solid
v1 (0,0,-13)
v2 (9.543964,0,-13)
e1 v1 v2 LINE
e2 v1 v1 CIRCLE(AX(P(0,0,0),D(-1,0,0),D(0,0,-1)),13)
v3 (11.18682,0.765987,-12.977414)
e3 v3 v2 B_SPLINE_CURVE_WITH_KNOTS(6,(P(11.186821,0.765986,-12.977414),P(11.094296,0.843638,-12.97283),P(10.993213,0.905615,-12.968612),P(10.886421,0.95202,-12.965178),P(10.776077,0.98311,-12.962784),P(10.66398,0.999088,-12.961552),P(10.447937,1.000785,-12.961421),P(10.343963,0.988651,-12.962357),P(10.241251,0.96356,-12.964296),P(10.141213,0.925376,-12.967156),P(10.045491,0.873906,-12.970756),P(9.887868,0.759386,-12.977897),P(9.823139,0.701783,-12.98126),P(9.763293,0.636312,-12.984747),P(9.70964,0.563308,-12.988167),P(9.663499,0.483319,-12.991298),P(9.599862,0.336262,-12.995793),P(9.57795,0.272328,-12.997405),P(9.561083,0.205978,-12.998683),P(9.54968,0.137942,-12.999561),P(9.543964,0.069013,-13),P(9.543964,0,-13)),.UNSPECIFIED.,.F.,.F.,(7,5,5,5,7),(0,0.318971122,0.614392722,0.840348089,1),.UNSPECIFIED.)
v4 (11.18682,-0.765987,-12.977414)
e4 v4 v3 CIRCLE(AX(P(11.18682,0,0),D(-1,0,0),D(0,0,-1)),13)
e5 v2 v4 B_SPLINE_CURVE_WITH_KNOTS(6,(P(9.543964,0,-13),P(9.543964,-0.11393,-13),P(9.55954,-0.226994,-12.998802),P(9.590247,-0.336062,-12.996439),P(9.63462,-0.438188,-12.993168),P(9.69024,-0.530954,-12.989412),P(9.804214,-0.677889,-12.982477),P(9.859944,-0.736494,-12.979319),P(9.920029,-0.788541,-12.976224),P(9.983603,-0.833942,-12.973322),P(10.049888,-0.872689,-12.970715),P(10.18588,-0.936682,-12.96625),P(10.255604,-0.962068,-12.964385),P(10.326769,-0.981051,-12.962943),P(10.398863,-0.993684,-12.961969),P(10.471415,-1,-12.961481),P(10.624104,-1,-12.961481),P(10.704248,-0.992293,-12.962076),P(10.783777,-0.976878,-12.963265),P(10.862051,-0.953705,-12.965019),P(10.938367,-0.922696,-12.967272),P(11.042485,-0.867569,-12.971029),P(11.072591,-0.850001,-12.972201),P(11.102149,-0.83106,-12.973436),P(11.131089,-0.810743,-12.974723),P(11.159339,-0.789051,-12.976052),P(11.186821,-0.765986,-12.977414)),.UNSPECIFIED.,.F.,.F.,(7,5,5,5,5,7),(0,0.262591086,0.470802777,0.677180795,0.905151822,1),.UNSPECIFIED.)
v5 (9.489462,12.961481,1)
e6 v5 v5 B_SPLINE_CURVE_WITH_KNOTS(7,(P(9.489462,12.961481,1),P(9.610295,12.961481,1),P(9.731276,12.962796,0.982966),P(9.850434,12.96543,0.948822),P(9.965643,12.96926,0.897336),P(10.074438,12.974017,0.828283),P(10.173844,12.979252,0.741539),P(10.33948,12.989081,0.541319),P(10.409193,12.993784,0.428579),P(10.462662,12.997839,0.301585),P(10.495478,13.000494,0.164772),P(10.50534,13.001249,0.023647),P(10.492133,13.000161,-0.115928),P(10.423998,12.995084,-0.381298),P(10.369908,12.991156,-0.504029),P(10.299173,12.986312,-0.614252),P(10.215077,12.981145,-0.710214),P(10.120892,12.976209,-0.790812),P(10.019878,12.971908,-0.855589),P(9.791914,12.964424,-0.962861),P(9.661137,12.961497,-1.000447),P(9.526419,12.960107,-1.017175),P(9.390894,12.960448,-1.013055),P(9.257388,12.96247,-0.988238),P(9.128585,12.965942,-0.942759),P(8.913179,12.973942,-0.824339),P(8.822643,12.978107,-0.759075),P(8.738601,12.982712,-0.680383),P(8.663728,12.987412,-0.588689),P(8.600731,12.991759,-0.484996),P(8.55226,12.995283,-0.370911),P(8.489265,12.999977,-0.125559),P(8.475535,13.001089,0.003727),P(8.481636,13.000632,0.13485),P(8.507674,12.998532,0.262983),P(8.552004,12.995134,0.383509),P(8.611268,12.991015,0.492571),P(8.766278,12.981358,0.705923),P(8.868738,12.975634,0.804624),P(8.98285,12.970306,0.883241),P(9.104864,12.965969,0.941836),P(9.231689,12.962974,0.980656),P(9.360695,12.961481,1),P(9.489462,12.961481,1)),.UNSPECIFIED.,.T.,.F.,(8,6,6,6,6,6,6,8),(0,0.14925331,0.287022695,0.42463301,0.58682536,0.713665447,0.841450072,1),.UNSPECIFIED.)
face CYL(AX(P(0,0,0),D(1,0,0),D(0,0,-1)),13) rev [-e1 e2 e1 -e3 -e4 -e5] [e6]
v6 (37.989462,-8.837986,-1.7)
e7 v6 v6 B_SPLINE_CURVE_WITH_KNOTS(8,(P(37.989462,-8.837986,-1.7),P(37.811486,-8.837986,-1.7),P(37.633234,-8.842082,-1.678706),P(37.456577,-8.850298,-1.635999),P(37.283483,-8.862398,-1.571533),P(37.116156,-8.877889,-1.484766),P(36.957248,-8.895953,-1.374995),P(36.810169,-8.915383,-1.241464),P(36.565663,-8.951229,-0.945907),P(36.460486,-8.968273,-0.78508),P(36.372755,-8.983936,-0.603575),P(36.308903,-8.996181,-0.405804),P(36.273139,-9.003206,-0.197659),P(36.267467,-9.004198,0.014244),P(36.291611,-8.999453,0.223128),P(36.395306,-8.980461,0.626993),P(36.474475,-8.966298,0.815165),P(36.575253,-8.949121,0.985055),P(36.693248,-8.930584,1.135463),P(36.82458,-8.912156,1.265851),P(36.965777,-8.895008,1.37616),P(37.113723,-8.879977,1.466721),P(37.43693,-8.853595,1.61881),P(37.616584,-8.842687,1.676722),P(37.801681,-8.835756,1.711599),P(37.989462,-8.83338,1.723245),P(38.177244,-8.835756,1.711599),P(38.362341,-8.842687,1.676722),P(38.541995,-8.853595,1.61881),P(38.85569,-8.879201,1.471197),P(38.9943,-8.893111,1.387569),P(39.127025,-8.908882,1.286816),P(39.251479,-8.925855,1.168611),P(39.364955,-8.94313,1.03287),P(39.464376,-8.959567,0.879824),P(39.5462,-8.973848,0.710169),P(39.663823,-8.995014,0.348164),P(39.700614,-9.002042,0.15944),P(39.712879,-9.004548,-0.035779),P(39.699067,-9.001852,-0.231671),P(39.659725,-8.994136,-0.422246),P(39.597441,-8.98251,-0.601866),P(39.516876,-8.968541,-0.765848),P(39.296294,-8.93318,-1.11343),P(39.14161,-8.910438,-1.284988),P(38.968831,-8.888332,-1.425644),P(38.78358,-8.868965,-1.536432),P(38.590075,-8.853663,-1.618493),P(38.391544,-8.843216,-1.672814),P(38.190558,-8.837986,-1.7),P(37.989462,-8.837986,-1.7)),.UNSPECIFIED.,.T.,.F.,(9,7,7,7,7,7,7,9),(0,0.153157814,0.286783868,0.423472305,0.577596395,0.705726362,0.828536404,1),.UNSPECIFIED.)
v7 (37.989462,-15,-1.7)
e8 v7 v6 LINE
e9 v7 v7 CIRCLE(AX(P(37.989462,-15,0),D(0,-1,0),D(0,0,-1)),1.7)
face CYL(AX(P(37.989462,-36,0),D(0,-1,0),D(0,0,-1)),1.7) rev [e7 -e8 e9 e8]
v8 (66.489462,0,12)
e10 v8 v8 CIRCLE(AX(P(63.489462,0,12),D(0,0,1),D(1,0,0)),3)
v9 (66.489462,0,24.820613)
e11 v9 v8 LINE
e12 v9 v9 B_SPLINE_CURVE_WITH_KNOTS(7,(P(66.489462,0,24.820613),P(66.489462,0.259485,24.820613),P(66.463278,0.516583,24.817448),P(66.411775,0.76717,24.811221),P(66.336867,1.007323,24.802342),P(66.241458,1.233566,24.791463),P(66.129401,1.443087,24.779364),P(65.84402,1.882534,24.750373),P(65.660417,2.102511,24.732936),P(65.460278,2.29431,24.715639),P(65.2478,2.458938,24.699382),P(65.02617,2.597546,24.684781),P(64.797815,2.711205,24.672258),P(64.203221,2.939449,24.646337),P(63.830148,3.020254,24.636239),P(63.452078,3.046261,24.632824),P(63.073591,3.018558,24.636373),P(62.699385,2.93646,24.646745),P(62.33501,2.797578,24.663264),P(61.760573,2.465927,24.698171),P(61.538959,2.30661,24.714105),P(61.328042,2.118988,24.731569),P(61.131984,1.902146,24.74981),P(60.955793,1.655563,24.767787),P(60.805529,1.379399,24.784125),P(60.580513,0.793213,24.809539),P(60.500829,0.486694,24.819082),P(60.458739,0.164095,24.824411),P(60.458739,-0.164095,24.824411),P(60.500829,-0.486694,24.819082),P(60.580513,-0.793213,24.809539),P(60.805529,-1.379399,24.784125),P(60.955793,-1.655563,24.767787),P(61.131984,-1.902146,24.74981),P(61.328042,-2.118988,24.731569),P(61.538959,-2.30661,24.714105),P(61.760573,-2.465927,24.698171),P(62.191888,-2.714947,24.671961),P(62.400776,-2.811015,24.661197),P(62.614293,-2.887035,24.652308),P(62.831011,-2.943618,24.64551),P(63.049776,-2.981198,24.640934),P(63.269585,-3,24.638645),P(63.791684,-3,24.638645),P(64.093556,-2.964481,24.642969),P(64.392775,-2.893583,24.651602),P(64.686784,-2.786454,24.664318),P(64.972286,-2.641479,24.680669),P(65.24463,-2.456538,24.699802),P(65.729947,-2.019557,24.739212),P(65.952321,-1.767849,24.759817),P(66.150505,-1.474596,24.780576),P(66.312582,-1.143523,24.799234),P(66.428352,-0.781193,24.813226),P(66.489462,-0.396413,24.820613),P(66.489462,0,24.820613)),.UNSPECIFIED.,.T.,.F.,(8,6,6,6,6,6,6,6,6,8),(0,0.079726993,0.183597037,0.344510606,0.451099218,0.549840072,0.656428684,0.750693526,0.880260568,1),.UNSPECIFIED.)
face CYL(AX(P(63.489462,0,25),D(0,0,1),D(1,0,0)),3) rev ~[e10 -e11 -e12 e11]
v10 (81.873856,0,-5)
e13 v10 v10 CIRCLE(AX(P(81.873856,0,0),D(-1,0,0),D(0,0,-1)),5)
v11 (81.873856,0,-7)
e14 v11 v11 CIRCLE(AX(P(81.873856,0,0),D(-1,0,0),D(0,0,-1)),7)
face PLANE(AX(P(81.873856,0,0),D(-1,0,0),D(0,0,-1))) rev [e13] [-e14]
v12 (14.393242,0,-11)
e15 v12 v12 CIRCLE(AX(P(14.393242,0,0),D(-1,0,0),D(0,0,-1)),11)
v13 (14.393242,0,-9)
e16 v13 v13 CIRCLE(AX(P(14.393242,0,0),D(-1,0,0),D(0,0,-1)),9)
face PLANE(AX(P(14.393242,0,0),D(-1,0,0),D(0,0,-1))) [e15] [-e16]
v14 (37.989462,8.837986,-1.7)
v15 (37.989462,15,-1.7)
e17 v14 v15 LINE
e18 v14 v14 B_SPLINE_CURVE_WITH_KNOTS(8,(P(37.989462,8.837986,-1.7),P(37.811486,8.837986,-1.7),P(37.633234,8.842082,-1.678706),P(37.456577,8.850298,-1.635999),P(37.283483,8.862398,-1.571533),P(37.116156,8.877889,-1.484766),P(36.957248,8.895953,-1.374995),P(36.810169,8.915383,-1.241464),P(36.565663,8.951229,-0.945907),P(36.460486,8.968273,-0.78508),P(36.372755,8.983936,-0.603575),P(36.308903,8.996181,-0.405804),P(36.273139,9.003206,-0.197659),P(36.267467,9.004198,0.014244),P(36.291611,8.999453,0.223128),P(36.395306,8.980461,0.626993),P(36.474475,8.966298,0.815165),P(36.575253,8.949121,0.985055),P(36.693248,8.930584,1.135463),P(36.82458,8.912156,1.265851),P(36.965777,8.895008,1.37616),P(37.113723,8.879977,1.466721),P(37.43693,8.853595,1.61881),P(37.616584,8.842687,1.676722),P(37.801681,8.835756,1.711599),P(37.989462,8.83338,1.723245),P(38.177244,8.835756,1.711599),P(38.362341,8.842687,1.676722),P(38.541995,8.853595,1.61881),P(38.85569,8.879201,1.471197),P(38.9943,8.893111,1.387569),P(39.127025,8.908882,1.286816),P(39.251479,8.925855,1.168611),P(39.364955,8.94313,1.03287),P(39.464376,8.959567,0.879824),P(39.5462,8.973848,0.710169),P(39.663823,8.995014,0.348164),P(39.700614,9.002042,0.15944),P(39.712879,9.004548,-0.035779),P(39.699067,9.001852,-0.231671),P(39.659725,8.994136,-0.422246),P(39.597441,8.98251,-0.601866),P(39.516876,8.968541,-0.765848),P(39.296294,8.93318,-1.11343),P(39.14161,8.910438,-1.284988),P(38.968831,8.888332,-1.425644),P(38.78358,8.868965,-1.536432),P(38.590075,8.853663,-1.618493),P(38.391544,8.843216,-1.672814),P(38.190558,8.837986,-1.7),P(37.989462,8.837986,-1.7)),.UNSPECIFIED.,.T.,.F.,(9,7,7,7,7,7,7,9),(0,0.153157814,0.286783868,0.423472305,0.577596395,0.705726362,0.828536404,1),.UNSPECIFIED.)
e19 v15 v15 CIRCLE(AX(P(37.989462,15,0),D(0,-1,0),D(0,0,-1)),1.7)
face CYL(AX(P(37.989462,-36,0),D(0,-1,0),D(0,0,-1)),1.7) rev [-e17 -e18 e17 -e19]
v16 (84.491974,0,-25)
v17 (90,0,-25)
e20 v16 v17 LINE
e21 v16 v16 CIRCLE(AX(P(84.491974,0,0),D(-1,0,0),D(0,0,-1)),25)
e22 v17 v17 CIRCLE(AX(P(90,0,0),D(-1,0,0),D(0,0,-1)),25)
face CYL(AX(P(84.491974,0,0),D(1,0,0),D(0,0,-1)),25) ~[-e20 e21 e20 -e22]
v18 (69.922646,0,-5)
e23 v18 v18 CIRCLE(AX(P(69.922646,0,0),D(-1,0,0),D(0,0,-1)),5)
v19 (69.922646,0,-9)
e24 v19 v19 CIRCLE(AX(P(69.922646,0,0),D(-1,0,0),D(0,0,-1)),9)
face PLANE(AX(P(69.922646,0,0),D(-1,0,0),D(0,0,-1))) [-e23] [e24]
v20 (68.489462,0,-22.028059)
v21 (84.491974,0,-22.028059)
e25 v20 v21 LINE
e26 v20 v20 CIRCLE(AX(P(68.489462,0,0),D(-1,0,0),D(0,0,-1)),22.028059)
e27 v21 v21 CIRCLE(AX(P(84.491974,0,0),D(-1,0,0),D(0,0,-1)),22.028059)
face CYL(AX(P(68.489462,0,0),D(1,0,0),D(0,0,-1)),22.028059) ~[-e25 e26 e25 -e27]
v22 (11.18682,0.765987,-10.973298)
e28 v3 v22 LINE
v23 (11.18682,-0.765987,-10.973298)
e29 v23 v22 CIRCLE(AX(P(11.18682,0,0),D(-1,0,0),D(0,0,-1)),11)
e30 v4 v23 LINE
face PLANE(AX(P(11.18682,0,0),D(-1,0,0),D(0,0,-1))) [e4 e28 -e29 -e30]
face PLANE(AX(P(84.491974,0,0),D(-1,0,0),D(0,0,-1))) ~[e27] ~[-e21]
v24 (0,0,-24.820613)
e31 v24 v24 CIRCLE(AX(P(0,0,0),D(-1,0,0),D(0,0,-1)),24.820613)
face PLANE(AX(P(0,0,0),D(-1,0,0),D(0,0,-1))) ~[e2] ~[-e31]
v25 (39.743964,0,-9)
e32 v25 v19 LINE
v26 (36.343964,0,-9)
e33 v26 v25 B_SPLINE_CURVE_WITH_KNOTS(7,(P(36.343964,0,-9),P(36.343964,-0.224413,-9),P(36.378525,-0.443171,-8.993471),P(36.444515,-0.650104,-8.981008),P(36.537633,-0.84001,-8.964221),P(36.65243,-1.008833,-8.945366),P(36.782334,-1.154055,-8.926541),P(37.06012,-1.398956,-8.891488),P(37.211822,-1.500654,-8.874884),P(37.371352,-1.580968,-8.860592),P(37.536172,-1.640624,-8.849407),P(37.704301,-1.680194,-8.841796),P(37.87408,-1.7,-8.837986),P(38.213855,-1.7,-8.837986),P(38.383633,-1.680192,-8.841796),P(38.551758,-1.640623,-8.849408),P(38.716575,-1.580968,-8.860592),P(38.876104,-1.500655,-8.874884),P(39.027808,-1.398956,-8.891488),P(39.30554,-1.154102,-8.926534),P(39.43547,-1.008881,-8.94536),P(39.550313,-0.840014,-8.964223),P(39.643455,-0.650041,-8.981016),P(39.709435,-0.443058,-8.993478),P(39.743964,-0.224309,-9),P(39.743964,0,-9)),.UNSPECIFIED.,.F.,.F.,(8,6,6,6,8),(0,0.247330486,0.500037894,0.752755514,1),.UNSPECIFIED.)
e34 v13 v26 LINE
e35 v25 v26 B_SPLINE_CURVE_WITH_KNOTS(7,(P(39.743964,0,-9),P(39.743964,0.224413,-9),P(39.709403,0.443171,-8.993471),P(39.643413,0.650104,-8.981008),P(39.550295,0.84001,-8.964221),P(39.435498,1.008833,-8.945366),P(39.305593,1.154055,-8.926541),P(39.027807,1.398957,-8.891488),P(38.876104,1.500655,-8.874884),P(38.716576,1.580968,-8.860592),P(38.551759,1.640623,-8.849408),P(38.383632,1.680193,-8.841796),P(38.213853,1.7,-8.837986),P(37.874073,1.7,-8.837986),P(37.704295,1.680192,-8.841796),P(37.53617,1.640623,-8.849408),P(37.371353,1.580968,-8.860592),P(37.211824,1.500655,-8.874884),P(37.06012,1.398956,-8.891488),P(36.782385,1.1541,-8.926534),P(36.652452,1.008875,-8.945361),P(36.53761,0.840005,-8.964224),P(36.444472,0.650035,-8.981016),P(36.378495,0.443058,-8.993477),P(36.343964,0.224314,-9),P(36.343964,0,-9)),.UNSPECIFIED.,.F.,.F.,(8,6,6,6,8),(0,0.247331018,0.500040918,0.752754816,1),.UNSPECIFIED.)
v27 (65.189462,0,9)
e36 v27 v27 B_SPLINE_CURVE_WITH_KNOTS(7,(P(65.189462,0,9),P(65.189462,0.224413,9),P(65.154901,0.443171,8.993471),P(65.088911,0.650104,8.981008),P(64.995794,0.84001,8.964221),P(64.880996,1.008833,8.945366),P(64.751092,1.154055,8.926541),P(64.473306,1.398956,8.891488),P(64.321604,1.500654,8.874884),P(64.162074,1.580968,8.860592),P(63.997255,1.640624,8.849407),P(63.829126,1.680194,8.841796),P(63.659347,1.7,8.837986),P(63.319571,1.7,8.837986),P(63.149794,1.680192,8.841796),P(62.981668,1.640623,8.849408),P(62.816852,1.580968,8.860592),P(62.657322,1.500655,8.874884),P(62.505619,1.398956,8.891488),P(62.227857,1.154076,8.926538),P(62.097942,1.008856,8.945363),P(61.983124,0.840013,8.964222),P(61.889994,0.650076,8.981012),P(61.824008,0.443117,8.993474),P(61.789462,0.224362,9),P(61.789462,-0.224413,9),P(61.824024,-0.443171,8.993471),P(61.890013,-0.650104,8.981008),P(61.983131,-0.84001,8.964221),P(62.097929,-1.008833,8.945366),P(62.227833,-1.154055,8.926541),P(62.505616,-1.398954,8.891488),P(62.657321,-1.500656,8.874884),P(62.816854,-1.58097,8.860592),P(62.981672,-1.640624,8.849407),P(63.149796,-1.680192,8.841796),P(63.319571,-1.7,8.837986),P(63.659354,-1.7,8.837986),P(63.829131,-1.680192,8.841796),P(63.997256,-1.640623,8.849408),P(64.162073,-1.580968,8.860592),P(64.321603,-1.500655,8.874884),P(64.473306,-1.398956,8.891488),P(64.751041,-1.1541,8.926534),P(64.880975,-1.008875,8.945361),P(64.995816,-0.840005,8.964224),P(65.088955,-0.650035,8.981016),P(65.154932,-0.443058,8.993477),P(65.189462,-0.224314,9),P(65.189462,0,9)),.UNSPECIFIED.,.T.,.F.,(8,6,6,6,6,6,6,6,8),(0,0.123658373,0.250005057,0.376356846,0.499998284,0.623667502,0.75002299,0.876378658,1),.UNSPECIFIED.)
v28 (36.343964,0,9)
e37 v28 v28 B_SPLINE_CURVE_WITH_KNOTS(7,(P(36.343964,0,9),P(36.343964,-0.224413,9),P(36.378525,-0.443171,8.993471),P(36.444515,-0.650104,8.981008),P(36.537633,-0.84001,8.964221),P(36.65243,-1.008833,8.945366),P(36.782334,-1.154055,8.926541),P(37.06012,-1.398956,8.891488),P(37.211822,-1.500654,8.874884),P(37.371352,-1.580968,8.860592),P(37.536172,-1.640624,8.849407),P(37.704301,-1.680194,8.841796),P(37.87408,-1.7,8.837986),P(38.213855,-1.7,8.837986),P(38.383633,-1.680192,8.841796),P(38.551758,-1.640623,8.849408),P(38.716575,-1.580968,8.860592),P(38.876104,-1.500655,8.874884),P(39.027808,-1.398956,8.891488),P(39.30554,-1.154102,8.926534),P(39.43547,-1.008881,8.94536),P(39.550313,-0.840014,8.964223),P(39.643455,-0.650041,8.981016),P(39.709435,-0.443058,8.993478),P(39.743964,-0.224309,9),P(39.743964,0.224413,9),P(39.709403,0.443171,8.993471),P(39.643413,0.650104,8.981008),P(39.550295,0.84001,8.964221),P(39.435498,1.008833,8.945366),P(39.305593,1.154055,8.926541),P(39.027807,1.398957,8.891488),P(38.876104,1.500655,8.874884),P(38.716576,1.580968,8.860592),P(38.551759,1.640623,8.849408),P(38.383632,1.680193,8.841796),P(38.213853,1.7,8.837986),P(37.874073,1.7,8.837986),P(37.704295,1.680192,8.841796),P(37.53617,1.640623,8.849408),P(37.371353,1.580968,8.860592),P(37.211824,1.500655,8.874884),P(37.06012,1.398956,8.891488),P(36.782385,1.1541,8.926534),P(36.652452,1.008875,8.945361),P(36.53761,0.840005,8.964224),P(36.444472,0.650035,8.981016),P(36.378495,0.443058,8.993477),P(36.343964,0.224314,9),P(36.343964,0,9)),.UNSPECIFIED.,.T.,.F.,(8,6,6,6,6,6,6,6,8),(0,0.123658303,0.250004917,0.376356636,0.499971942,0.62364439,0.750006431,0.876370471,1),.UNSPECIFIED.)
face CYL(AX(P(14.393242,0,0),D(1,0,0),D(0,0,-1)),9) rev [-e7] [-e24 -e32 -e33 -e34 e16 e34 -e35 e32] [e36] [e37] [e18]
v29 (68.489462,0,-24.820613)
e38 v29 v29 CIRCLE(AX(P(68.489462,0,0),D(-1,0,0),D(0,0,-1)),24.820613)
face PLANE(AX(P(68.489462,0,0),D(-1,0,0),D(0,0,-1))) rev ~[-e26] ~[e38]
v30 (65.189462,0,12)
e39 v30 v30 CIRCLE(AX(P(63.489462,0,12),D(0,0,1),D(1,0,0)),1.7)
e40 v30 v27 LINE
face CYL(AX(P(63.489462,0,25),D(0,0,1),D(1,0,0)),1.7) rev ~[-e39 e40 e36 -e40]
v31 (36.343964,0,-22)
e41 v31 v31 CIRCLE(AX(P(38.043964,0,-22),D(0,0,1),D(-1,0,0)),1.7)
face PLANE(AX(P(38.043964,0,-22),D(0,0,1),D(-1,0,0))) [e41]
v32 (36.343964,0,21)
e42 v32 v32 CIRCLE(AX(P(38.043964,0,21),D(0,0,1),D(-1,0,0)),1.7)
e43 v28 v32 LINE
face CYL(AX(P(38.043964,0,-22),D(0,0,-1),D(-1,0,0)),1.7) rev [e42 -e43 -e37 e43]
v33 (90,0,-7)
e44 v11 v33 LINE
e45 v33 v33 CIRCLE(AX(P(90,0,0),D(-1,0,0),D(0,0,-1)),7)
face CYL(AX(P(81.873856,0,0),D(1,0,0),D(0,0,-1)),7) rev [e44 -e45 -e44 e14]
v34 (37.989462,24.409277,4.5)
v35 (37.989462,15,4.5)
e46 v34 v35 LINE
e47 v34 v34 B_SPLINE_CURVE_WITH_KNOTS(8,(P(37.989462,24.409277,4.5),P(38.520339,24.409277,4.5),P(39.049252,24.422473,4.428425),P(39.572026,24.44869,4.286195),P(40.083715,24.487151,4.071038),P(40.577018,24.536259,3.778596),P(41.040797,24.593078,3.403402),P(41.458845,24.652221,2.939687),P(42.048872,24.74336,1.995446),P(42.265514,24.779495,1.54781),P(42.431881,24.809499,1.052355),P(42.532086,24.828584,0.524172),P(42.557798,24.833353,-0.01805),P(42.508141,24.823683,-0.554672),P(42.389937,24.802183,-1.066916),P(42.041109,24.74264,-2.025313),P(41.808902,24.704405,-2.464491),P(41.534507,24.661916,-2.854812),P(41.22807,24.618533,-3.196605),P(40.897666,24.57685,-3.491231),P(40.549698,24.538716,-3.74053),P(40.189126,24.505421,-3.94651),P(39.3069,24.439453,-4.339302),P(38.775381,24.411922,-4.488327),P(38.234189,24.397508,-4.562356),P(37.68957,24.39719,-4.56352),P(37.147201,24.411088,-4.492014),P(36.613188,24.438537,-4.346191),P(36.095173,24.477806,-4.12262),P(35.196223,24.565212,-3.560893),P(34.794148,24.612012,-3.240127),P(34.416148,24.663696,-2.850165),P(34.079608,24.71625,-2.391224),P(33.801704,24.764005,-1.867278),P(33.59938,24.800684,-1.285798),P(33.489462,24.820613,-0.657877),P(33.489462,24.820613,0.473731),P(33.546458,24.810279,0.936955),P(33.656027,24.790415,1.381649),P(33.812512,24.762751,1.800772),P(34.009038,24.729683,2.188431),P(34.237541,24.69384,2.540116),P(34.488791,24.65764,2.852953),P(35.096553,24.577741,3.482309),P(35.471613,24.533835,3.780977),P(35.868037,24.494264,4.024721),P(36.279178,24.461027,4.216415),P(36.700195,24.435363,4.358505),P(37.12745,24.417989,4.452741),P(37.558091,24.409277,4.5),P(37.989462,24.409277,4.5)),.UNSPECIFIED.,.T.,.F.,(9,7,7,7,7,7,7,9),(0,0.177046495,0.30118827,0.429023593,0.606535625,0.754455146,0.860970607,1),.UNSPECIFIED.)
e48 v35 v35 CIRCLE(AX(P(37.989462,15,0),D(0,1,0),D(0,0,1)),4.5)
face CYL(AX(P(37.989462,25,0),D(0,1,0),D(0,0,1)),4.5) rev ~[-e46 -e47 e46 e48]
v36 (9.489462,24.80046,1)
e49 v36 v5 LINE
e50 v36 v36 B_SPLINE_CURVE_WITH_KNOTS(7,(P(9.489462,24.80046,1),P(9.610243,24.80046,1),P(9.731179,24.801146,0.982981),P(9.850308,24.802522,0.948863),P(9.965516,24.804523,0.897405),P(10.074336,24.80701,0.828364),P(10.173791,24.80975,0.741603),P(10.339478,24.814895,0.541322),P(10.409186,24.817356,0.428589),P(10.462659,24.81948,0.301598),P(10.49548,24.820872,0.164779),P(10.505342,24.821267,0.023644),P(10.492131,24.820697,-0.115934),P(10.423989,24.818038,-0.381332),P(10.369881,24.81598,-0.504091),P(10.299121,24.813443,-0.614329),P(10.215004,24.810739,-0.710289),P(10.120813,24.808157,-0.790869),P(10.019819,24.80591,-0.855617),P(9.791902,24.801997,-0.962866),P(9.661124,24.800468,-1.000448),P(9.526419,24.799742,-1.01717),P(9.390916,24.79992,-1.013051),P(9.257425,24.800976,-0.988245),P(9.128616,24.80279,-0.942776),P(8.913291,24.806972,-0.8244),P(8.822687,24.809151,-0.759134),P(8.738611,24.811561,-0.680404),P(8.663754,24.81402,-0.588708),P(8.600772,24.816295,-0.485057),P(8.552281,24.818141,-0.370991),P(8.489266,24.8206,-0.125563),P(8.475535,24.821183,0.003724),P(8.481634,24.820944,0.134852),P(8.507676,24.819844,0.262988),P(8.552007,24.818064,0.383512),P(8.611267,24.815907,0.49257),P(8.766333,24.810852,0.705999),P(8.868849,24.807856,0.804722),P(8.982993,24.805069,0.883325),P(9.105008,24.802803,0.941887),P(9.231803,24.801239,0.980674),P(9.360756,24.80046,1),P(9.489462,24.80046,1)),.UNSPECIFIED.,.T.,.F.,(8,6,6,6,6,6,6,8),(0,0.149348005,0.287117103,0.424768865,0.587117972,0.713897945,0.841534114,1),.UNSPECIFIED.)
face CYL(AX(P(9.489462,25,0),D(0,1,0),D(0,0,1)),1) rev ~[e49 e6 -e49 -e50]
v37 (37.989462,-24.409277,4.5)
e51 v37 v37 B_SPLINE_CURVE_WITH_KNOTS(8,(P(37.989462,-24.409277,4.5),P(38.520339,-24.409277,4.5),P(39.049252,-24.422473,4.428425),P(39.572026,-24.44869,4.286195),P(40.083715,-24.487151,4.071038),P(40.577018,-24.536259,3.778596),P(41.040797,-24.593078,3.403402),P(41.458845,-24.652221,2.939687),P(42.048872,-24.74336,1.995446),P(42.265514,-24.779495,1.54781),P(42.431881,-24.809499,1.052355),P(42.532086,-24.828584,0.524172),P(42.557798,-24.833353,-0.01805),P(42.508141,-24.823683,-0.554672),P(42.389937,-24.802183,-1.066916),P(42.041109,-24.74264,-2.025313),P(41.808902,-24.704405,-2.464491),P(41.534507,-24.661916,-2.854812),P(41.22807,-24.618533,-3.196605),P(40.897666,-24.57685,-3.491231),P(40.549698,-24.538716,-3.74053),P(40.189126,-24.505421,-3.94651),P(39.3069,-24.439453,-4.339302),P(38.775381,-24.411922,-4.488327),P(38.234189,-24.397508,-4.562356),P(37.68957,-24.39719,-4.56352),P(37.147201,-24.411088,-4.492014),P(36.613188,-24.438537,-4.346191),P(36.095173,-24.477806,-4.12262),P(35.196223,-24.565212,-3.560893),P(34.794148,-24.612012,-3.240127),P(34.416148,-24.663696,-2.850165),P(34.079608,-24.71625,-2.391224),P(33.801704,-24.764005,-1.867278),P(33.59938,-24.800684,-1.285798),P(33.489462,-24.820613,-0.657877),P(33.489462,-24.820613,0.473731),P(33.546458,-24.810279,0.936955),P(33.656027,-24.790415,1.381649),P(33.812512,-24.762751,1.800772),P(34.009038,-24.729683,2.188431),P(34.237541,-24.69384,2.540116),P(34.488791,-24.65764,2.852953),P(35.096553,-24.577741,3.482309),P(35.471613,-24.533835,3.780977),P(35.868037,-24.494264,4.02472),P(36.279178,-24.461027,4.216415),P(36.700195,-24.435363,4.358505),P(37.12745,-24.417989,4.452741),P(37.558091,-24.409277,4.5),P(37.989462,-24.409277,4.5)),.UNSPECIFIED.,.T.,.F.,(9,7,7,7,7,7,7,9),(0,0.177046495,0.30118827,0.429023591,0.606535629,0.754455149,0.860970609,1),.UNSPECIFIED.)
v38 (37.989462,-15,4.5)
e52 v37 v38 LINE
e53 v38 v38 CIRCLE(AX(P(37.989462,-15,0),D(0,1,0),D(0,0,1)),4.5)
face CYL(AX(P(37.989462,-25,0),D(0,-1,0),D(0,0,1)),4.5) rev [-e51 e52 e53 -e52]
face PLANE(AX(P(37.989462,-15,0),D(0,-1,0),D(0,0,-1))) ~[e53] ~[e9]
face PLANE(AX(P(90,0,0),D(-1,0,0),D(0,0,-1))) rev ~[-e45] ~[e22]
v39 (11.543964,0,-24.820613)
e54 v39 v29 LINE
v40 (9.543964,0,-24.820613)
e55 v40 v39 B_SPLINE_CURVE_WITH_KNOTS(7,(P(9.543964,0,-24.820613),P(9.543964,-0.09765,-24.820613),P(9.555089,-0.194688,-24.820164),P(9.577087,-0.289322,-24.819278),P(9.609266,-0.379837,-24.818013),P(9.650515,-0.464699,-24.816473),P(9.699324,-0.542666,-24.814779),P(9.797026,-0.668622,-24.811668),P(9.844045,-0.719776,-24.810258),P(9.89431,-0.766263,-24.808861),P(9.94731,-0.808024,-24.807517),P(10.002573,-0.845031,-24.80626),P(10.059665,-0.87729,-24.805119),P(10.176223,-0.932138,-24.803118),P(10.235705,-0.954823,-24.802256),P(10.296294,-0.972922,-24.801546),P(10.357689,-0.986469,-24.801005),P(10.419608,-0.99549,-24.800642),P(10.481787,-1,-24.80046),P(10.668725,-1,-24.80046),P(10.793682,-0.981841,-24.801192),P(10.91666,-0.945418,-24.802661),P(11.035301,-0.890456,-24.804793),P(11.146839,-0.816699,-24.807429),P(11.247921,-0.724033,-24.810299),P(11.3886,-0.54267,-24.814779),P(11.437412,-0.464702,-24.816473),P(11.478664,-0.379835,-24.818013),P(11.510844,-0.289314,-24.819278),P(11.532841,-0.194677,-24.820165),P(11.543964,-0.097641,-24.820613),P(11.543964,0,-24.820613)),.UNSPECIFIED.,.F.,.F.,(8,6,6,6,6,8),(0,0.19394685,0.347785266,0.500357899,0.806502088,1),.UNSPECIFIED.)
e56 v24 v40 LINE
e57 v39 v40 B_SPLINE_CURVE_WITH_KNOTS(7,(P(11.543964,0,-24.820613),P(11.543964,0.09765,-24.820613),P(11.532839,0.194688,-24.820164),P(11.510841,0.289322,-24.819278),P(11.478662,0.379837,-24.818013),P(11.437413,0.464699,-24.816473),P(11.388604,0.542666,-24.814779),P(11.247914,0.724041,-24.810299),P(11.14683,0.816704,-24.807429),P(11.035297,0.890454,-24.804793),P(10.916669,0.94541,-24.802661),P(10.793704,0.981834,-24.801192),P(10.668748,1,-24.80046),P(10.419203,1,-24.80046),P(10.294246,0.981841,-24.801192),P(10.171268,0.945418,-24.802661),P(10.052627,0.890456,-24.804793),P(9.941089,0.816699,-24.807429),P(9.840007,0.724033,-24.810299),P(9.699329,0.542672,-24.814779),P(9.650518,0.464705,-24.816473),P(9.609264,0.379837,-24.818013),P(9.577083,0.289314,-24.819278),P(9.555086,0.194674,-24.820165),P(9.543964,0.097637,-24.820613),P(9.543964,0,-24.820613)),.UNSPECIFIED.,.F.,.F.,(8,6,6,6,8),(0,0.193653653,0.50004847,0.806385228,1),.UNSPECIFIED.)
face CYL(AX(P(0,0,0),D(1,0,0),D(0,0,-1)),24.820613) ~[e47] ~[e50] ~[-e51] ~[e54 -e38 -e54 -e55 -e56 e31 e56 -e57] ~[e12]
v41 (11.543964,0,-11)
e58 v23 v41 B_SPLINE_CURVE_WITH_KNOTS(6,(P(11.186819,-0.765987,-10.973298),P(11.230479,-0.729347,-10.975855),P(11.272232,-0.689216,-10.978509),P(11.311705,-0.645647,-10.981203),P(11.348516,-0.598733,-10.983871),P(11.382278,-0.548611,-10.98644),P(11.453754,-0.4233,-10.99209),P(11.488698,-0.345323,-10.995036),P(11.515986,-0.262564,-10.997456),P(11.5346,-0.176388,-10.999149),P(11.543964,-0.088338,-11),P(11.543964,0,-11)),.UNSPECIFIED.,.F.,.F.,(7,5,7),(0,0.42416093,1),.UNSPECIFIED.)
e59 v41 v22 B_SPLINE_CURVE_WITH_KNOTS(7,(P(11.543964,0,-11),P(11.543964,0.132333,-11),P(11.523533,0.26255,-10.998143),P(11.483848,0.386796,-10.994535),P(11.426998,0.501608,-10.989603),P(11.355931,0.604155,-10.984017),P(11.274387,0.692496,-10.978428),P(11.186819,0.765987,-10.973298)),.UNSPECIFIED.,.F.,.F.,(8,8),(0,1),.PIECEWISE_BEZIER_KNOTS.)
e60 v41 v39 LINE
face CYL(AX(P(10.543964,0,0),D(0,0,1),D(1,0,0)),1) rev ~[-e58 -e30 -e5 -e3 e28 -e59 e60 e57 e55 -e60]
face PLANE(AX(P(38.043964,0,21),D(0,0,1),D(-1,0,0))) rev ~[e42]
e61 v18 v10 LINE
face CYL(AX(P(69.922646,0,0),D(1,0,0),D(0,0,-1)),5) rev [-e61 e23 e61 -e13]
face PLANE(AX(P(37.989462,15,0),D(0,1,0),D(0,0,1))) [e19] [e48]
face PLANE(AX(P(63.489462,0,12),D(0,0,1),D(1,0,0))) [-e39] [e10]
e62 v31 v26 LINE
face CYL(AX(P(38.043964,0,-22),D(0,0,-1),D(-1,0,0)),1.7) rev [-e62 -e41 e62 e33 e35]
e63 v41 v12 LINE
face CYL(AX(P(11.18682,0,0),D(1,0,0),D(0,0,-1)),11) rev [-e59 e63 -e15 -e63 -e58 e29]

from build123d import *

# Parameters (mm, degrees)
CUT_EXTRUDE1_DEPTH      = 21
CUT_EXTRUDE1_DEPTH_BACK = 22
SKETCH4_R               = 1.7
SKETCH5_R               = 1
CUT_EXTRUDE2_DEPTH      = 32
CUT_EXTRUDE3_DEPTH      = 106.948100502
CUT_EXTRUDE3_DEPTH_BACK = 61
SKETCH7_R               = 1.7
SKETCH8_R               = 1.7
CUT_EXTRUDE4_DEPTH      = 25
SKETCH9_R               = 1
CUT_EXTRUDE5_DEPTH      = 25
SKETCH10_R              = 4.5
CUT_EXTRUDE6_DEPTH      = 10
SKETCH11_R              = 3
CUT_EXTRUDE7_DEPTH      = 13


with BuildPart() as part:
    # Sketch1 → Revolve1 (revolve)
    with BuildSketch(Plane.XY):
        Polygon((0, 0), (0, 24.820612545), (68.489462458, 24.820612545), (68.489462458, 22.028059354), (84.491973548, 22.028059354), (84.491973548, 25), (90, 25), (90, 0), align=None)
    revolve(axis=Axis((0, 0, 0), (-1, 0, 0)))

    # Sketch3 → Cut-Revolve1 (revolve, cut)
    with BuildSketch(Plane(origin=(0, 0, 0), x_dir=(1, 0, 0), z_dir=(0, 1, 0))):
        Polygon((0, 0), (0, 13), (11.186820081, 13), (11.186820081, 11), (14.393242315, 11), (14.393242315, 9), (69.922645544, 9), (69.922645544, 5), (81.873855688, 5), (81.873855688, 7), (90, 7), (90, 0), align=None)
    revolve(axis=Axis((96.448502204, 0, 0), (-1, 0, 0)), mode=Mode.SUBTRACT)

    # Sketch4 → Cut-Extrude1 (cut, two sides: drawn at the far end of the back side and taken through both)
    with BuildSketch(Plane.XY.offset(-CUT_EXTRUDE1_DEPTH_BACK)):
        with Locations((38.043963981, 0)):
            Circle(SKETCH4_R)
    extrude(amount=CUT_EXTRUDE1_DEPTH + CUT_EXTRUDE1_DEPTH_BACK, mode=Mode.SUBTRACT)

    # Sketch5 → Cut-Extrude2 (cut)
    with BuildSketch(Plane.XY):
        with Locations((10.543963981, 0)):
            Circle(SKETCH5_R)
    extrude(amount=-CUT_EXTRUDE2_DEPTH, mode=Mode.SUBTRACT)

    # Sketch7 → Cut-Extrude3 (cut, two sides: drawn at the far end of the back side and taken through both)
    with BuildSketch(Plane(origin=(0, 25, 0), x_dir=(1, 0, 0), z_dir=(0, 1, 0)).offset(-CUT_EXTRUDE3_DEPTH_BACK)):
        with Locations((37.989462458, 0)):
            Circle(SKETCH7_R)
    extrude(amount=CUT_EXTRUDE3_DEPTH + CUT_EXTRUDE3_DEPTH_BACK, mode=Mode.SUBTRACT)

    # Sketch8 → Cut-Extrude4 (cut)
    with BuildSketch(Plane.XY.offset(25)):
        with Locations((63.489462458, 0)):
            Circle(SKETCH8_R)
    extrude(amount=-CUT_EXTRUDE4_DEPTH, mode=Mode.SUBTRACT)

    # Sketch9 → Cut-Extrude5 (cut)
    with BuildSketch(Plane(origin=(0, 25, 0), x_dir=(1, 0, 0), z_dir=(0, 1, 0))):
        with Locations((9.489462458, 0)):
            Circle(SKETCH9_R)
    extrude(amount=-CUT_EXTRUDE5_DEPTH, mode=Mode.SUBTRACT)

    # Sketch10 → Cut-Extrude6 (cut)
    with BuildSketch(Plane(origin=(0, 25, 0), x_dir=(1, 0, 0), z_dir=(0, 1, 0))):
        with Locations((37.989462458, 0)):
            Circle(SKETCH10_R)
    cut_extrude6 = extrude(amount=-CUT_EXTRUDE6_DEPTH, mode=Mode.SUBTRACT)

    # Mirror1: Cut-Extrude6 across plane
    add(cut_extrude6.mirror(Plane.ZX), mode=Mode.SUBTRACT)

    # Sketch11 → Cut-Extrude7 (cut)
    with BuildSketch(Plane.XY.offset(25)):
        with Locations((63.489462458, 0)):
            Circle(SKETCH11_R)
    extrude(amount=-CUT_EXTRUDE7_DEPTH, mode=Mode.SUBTRACT)


solid = part.part
